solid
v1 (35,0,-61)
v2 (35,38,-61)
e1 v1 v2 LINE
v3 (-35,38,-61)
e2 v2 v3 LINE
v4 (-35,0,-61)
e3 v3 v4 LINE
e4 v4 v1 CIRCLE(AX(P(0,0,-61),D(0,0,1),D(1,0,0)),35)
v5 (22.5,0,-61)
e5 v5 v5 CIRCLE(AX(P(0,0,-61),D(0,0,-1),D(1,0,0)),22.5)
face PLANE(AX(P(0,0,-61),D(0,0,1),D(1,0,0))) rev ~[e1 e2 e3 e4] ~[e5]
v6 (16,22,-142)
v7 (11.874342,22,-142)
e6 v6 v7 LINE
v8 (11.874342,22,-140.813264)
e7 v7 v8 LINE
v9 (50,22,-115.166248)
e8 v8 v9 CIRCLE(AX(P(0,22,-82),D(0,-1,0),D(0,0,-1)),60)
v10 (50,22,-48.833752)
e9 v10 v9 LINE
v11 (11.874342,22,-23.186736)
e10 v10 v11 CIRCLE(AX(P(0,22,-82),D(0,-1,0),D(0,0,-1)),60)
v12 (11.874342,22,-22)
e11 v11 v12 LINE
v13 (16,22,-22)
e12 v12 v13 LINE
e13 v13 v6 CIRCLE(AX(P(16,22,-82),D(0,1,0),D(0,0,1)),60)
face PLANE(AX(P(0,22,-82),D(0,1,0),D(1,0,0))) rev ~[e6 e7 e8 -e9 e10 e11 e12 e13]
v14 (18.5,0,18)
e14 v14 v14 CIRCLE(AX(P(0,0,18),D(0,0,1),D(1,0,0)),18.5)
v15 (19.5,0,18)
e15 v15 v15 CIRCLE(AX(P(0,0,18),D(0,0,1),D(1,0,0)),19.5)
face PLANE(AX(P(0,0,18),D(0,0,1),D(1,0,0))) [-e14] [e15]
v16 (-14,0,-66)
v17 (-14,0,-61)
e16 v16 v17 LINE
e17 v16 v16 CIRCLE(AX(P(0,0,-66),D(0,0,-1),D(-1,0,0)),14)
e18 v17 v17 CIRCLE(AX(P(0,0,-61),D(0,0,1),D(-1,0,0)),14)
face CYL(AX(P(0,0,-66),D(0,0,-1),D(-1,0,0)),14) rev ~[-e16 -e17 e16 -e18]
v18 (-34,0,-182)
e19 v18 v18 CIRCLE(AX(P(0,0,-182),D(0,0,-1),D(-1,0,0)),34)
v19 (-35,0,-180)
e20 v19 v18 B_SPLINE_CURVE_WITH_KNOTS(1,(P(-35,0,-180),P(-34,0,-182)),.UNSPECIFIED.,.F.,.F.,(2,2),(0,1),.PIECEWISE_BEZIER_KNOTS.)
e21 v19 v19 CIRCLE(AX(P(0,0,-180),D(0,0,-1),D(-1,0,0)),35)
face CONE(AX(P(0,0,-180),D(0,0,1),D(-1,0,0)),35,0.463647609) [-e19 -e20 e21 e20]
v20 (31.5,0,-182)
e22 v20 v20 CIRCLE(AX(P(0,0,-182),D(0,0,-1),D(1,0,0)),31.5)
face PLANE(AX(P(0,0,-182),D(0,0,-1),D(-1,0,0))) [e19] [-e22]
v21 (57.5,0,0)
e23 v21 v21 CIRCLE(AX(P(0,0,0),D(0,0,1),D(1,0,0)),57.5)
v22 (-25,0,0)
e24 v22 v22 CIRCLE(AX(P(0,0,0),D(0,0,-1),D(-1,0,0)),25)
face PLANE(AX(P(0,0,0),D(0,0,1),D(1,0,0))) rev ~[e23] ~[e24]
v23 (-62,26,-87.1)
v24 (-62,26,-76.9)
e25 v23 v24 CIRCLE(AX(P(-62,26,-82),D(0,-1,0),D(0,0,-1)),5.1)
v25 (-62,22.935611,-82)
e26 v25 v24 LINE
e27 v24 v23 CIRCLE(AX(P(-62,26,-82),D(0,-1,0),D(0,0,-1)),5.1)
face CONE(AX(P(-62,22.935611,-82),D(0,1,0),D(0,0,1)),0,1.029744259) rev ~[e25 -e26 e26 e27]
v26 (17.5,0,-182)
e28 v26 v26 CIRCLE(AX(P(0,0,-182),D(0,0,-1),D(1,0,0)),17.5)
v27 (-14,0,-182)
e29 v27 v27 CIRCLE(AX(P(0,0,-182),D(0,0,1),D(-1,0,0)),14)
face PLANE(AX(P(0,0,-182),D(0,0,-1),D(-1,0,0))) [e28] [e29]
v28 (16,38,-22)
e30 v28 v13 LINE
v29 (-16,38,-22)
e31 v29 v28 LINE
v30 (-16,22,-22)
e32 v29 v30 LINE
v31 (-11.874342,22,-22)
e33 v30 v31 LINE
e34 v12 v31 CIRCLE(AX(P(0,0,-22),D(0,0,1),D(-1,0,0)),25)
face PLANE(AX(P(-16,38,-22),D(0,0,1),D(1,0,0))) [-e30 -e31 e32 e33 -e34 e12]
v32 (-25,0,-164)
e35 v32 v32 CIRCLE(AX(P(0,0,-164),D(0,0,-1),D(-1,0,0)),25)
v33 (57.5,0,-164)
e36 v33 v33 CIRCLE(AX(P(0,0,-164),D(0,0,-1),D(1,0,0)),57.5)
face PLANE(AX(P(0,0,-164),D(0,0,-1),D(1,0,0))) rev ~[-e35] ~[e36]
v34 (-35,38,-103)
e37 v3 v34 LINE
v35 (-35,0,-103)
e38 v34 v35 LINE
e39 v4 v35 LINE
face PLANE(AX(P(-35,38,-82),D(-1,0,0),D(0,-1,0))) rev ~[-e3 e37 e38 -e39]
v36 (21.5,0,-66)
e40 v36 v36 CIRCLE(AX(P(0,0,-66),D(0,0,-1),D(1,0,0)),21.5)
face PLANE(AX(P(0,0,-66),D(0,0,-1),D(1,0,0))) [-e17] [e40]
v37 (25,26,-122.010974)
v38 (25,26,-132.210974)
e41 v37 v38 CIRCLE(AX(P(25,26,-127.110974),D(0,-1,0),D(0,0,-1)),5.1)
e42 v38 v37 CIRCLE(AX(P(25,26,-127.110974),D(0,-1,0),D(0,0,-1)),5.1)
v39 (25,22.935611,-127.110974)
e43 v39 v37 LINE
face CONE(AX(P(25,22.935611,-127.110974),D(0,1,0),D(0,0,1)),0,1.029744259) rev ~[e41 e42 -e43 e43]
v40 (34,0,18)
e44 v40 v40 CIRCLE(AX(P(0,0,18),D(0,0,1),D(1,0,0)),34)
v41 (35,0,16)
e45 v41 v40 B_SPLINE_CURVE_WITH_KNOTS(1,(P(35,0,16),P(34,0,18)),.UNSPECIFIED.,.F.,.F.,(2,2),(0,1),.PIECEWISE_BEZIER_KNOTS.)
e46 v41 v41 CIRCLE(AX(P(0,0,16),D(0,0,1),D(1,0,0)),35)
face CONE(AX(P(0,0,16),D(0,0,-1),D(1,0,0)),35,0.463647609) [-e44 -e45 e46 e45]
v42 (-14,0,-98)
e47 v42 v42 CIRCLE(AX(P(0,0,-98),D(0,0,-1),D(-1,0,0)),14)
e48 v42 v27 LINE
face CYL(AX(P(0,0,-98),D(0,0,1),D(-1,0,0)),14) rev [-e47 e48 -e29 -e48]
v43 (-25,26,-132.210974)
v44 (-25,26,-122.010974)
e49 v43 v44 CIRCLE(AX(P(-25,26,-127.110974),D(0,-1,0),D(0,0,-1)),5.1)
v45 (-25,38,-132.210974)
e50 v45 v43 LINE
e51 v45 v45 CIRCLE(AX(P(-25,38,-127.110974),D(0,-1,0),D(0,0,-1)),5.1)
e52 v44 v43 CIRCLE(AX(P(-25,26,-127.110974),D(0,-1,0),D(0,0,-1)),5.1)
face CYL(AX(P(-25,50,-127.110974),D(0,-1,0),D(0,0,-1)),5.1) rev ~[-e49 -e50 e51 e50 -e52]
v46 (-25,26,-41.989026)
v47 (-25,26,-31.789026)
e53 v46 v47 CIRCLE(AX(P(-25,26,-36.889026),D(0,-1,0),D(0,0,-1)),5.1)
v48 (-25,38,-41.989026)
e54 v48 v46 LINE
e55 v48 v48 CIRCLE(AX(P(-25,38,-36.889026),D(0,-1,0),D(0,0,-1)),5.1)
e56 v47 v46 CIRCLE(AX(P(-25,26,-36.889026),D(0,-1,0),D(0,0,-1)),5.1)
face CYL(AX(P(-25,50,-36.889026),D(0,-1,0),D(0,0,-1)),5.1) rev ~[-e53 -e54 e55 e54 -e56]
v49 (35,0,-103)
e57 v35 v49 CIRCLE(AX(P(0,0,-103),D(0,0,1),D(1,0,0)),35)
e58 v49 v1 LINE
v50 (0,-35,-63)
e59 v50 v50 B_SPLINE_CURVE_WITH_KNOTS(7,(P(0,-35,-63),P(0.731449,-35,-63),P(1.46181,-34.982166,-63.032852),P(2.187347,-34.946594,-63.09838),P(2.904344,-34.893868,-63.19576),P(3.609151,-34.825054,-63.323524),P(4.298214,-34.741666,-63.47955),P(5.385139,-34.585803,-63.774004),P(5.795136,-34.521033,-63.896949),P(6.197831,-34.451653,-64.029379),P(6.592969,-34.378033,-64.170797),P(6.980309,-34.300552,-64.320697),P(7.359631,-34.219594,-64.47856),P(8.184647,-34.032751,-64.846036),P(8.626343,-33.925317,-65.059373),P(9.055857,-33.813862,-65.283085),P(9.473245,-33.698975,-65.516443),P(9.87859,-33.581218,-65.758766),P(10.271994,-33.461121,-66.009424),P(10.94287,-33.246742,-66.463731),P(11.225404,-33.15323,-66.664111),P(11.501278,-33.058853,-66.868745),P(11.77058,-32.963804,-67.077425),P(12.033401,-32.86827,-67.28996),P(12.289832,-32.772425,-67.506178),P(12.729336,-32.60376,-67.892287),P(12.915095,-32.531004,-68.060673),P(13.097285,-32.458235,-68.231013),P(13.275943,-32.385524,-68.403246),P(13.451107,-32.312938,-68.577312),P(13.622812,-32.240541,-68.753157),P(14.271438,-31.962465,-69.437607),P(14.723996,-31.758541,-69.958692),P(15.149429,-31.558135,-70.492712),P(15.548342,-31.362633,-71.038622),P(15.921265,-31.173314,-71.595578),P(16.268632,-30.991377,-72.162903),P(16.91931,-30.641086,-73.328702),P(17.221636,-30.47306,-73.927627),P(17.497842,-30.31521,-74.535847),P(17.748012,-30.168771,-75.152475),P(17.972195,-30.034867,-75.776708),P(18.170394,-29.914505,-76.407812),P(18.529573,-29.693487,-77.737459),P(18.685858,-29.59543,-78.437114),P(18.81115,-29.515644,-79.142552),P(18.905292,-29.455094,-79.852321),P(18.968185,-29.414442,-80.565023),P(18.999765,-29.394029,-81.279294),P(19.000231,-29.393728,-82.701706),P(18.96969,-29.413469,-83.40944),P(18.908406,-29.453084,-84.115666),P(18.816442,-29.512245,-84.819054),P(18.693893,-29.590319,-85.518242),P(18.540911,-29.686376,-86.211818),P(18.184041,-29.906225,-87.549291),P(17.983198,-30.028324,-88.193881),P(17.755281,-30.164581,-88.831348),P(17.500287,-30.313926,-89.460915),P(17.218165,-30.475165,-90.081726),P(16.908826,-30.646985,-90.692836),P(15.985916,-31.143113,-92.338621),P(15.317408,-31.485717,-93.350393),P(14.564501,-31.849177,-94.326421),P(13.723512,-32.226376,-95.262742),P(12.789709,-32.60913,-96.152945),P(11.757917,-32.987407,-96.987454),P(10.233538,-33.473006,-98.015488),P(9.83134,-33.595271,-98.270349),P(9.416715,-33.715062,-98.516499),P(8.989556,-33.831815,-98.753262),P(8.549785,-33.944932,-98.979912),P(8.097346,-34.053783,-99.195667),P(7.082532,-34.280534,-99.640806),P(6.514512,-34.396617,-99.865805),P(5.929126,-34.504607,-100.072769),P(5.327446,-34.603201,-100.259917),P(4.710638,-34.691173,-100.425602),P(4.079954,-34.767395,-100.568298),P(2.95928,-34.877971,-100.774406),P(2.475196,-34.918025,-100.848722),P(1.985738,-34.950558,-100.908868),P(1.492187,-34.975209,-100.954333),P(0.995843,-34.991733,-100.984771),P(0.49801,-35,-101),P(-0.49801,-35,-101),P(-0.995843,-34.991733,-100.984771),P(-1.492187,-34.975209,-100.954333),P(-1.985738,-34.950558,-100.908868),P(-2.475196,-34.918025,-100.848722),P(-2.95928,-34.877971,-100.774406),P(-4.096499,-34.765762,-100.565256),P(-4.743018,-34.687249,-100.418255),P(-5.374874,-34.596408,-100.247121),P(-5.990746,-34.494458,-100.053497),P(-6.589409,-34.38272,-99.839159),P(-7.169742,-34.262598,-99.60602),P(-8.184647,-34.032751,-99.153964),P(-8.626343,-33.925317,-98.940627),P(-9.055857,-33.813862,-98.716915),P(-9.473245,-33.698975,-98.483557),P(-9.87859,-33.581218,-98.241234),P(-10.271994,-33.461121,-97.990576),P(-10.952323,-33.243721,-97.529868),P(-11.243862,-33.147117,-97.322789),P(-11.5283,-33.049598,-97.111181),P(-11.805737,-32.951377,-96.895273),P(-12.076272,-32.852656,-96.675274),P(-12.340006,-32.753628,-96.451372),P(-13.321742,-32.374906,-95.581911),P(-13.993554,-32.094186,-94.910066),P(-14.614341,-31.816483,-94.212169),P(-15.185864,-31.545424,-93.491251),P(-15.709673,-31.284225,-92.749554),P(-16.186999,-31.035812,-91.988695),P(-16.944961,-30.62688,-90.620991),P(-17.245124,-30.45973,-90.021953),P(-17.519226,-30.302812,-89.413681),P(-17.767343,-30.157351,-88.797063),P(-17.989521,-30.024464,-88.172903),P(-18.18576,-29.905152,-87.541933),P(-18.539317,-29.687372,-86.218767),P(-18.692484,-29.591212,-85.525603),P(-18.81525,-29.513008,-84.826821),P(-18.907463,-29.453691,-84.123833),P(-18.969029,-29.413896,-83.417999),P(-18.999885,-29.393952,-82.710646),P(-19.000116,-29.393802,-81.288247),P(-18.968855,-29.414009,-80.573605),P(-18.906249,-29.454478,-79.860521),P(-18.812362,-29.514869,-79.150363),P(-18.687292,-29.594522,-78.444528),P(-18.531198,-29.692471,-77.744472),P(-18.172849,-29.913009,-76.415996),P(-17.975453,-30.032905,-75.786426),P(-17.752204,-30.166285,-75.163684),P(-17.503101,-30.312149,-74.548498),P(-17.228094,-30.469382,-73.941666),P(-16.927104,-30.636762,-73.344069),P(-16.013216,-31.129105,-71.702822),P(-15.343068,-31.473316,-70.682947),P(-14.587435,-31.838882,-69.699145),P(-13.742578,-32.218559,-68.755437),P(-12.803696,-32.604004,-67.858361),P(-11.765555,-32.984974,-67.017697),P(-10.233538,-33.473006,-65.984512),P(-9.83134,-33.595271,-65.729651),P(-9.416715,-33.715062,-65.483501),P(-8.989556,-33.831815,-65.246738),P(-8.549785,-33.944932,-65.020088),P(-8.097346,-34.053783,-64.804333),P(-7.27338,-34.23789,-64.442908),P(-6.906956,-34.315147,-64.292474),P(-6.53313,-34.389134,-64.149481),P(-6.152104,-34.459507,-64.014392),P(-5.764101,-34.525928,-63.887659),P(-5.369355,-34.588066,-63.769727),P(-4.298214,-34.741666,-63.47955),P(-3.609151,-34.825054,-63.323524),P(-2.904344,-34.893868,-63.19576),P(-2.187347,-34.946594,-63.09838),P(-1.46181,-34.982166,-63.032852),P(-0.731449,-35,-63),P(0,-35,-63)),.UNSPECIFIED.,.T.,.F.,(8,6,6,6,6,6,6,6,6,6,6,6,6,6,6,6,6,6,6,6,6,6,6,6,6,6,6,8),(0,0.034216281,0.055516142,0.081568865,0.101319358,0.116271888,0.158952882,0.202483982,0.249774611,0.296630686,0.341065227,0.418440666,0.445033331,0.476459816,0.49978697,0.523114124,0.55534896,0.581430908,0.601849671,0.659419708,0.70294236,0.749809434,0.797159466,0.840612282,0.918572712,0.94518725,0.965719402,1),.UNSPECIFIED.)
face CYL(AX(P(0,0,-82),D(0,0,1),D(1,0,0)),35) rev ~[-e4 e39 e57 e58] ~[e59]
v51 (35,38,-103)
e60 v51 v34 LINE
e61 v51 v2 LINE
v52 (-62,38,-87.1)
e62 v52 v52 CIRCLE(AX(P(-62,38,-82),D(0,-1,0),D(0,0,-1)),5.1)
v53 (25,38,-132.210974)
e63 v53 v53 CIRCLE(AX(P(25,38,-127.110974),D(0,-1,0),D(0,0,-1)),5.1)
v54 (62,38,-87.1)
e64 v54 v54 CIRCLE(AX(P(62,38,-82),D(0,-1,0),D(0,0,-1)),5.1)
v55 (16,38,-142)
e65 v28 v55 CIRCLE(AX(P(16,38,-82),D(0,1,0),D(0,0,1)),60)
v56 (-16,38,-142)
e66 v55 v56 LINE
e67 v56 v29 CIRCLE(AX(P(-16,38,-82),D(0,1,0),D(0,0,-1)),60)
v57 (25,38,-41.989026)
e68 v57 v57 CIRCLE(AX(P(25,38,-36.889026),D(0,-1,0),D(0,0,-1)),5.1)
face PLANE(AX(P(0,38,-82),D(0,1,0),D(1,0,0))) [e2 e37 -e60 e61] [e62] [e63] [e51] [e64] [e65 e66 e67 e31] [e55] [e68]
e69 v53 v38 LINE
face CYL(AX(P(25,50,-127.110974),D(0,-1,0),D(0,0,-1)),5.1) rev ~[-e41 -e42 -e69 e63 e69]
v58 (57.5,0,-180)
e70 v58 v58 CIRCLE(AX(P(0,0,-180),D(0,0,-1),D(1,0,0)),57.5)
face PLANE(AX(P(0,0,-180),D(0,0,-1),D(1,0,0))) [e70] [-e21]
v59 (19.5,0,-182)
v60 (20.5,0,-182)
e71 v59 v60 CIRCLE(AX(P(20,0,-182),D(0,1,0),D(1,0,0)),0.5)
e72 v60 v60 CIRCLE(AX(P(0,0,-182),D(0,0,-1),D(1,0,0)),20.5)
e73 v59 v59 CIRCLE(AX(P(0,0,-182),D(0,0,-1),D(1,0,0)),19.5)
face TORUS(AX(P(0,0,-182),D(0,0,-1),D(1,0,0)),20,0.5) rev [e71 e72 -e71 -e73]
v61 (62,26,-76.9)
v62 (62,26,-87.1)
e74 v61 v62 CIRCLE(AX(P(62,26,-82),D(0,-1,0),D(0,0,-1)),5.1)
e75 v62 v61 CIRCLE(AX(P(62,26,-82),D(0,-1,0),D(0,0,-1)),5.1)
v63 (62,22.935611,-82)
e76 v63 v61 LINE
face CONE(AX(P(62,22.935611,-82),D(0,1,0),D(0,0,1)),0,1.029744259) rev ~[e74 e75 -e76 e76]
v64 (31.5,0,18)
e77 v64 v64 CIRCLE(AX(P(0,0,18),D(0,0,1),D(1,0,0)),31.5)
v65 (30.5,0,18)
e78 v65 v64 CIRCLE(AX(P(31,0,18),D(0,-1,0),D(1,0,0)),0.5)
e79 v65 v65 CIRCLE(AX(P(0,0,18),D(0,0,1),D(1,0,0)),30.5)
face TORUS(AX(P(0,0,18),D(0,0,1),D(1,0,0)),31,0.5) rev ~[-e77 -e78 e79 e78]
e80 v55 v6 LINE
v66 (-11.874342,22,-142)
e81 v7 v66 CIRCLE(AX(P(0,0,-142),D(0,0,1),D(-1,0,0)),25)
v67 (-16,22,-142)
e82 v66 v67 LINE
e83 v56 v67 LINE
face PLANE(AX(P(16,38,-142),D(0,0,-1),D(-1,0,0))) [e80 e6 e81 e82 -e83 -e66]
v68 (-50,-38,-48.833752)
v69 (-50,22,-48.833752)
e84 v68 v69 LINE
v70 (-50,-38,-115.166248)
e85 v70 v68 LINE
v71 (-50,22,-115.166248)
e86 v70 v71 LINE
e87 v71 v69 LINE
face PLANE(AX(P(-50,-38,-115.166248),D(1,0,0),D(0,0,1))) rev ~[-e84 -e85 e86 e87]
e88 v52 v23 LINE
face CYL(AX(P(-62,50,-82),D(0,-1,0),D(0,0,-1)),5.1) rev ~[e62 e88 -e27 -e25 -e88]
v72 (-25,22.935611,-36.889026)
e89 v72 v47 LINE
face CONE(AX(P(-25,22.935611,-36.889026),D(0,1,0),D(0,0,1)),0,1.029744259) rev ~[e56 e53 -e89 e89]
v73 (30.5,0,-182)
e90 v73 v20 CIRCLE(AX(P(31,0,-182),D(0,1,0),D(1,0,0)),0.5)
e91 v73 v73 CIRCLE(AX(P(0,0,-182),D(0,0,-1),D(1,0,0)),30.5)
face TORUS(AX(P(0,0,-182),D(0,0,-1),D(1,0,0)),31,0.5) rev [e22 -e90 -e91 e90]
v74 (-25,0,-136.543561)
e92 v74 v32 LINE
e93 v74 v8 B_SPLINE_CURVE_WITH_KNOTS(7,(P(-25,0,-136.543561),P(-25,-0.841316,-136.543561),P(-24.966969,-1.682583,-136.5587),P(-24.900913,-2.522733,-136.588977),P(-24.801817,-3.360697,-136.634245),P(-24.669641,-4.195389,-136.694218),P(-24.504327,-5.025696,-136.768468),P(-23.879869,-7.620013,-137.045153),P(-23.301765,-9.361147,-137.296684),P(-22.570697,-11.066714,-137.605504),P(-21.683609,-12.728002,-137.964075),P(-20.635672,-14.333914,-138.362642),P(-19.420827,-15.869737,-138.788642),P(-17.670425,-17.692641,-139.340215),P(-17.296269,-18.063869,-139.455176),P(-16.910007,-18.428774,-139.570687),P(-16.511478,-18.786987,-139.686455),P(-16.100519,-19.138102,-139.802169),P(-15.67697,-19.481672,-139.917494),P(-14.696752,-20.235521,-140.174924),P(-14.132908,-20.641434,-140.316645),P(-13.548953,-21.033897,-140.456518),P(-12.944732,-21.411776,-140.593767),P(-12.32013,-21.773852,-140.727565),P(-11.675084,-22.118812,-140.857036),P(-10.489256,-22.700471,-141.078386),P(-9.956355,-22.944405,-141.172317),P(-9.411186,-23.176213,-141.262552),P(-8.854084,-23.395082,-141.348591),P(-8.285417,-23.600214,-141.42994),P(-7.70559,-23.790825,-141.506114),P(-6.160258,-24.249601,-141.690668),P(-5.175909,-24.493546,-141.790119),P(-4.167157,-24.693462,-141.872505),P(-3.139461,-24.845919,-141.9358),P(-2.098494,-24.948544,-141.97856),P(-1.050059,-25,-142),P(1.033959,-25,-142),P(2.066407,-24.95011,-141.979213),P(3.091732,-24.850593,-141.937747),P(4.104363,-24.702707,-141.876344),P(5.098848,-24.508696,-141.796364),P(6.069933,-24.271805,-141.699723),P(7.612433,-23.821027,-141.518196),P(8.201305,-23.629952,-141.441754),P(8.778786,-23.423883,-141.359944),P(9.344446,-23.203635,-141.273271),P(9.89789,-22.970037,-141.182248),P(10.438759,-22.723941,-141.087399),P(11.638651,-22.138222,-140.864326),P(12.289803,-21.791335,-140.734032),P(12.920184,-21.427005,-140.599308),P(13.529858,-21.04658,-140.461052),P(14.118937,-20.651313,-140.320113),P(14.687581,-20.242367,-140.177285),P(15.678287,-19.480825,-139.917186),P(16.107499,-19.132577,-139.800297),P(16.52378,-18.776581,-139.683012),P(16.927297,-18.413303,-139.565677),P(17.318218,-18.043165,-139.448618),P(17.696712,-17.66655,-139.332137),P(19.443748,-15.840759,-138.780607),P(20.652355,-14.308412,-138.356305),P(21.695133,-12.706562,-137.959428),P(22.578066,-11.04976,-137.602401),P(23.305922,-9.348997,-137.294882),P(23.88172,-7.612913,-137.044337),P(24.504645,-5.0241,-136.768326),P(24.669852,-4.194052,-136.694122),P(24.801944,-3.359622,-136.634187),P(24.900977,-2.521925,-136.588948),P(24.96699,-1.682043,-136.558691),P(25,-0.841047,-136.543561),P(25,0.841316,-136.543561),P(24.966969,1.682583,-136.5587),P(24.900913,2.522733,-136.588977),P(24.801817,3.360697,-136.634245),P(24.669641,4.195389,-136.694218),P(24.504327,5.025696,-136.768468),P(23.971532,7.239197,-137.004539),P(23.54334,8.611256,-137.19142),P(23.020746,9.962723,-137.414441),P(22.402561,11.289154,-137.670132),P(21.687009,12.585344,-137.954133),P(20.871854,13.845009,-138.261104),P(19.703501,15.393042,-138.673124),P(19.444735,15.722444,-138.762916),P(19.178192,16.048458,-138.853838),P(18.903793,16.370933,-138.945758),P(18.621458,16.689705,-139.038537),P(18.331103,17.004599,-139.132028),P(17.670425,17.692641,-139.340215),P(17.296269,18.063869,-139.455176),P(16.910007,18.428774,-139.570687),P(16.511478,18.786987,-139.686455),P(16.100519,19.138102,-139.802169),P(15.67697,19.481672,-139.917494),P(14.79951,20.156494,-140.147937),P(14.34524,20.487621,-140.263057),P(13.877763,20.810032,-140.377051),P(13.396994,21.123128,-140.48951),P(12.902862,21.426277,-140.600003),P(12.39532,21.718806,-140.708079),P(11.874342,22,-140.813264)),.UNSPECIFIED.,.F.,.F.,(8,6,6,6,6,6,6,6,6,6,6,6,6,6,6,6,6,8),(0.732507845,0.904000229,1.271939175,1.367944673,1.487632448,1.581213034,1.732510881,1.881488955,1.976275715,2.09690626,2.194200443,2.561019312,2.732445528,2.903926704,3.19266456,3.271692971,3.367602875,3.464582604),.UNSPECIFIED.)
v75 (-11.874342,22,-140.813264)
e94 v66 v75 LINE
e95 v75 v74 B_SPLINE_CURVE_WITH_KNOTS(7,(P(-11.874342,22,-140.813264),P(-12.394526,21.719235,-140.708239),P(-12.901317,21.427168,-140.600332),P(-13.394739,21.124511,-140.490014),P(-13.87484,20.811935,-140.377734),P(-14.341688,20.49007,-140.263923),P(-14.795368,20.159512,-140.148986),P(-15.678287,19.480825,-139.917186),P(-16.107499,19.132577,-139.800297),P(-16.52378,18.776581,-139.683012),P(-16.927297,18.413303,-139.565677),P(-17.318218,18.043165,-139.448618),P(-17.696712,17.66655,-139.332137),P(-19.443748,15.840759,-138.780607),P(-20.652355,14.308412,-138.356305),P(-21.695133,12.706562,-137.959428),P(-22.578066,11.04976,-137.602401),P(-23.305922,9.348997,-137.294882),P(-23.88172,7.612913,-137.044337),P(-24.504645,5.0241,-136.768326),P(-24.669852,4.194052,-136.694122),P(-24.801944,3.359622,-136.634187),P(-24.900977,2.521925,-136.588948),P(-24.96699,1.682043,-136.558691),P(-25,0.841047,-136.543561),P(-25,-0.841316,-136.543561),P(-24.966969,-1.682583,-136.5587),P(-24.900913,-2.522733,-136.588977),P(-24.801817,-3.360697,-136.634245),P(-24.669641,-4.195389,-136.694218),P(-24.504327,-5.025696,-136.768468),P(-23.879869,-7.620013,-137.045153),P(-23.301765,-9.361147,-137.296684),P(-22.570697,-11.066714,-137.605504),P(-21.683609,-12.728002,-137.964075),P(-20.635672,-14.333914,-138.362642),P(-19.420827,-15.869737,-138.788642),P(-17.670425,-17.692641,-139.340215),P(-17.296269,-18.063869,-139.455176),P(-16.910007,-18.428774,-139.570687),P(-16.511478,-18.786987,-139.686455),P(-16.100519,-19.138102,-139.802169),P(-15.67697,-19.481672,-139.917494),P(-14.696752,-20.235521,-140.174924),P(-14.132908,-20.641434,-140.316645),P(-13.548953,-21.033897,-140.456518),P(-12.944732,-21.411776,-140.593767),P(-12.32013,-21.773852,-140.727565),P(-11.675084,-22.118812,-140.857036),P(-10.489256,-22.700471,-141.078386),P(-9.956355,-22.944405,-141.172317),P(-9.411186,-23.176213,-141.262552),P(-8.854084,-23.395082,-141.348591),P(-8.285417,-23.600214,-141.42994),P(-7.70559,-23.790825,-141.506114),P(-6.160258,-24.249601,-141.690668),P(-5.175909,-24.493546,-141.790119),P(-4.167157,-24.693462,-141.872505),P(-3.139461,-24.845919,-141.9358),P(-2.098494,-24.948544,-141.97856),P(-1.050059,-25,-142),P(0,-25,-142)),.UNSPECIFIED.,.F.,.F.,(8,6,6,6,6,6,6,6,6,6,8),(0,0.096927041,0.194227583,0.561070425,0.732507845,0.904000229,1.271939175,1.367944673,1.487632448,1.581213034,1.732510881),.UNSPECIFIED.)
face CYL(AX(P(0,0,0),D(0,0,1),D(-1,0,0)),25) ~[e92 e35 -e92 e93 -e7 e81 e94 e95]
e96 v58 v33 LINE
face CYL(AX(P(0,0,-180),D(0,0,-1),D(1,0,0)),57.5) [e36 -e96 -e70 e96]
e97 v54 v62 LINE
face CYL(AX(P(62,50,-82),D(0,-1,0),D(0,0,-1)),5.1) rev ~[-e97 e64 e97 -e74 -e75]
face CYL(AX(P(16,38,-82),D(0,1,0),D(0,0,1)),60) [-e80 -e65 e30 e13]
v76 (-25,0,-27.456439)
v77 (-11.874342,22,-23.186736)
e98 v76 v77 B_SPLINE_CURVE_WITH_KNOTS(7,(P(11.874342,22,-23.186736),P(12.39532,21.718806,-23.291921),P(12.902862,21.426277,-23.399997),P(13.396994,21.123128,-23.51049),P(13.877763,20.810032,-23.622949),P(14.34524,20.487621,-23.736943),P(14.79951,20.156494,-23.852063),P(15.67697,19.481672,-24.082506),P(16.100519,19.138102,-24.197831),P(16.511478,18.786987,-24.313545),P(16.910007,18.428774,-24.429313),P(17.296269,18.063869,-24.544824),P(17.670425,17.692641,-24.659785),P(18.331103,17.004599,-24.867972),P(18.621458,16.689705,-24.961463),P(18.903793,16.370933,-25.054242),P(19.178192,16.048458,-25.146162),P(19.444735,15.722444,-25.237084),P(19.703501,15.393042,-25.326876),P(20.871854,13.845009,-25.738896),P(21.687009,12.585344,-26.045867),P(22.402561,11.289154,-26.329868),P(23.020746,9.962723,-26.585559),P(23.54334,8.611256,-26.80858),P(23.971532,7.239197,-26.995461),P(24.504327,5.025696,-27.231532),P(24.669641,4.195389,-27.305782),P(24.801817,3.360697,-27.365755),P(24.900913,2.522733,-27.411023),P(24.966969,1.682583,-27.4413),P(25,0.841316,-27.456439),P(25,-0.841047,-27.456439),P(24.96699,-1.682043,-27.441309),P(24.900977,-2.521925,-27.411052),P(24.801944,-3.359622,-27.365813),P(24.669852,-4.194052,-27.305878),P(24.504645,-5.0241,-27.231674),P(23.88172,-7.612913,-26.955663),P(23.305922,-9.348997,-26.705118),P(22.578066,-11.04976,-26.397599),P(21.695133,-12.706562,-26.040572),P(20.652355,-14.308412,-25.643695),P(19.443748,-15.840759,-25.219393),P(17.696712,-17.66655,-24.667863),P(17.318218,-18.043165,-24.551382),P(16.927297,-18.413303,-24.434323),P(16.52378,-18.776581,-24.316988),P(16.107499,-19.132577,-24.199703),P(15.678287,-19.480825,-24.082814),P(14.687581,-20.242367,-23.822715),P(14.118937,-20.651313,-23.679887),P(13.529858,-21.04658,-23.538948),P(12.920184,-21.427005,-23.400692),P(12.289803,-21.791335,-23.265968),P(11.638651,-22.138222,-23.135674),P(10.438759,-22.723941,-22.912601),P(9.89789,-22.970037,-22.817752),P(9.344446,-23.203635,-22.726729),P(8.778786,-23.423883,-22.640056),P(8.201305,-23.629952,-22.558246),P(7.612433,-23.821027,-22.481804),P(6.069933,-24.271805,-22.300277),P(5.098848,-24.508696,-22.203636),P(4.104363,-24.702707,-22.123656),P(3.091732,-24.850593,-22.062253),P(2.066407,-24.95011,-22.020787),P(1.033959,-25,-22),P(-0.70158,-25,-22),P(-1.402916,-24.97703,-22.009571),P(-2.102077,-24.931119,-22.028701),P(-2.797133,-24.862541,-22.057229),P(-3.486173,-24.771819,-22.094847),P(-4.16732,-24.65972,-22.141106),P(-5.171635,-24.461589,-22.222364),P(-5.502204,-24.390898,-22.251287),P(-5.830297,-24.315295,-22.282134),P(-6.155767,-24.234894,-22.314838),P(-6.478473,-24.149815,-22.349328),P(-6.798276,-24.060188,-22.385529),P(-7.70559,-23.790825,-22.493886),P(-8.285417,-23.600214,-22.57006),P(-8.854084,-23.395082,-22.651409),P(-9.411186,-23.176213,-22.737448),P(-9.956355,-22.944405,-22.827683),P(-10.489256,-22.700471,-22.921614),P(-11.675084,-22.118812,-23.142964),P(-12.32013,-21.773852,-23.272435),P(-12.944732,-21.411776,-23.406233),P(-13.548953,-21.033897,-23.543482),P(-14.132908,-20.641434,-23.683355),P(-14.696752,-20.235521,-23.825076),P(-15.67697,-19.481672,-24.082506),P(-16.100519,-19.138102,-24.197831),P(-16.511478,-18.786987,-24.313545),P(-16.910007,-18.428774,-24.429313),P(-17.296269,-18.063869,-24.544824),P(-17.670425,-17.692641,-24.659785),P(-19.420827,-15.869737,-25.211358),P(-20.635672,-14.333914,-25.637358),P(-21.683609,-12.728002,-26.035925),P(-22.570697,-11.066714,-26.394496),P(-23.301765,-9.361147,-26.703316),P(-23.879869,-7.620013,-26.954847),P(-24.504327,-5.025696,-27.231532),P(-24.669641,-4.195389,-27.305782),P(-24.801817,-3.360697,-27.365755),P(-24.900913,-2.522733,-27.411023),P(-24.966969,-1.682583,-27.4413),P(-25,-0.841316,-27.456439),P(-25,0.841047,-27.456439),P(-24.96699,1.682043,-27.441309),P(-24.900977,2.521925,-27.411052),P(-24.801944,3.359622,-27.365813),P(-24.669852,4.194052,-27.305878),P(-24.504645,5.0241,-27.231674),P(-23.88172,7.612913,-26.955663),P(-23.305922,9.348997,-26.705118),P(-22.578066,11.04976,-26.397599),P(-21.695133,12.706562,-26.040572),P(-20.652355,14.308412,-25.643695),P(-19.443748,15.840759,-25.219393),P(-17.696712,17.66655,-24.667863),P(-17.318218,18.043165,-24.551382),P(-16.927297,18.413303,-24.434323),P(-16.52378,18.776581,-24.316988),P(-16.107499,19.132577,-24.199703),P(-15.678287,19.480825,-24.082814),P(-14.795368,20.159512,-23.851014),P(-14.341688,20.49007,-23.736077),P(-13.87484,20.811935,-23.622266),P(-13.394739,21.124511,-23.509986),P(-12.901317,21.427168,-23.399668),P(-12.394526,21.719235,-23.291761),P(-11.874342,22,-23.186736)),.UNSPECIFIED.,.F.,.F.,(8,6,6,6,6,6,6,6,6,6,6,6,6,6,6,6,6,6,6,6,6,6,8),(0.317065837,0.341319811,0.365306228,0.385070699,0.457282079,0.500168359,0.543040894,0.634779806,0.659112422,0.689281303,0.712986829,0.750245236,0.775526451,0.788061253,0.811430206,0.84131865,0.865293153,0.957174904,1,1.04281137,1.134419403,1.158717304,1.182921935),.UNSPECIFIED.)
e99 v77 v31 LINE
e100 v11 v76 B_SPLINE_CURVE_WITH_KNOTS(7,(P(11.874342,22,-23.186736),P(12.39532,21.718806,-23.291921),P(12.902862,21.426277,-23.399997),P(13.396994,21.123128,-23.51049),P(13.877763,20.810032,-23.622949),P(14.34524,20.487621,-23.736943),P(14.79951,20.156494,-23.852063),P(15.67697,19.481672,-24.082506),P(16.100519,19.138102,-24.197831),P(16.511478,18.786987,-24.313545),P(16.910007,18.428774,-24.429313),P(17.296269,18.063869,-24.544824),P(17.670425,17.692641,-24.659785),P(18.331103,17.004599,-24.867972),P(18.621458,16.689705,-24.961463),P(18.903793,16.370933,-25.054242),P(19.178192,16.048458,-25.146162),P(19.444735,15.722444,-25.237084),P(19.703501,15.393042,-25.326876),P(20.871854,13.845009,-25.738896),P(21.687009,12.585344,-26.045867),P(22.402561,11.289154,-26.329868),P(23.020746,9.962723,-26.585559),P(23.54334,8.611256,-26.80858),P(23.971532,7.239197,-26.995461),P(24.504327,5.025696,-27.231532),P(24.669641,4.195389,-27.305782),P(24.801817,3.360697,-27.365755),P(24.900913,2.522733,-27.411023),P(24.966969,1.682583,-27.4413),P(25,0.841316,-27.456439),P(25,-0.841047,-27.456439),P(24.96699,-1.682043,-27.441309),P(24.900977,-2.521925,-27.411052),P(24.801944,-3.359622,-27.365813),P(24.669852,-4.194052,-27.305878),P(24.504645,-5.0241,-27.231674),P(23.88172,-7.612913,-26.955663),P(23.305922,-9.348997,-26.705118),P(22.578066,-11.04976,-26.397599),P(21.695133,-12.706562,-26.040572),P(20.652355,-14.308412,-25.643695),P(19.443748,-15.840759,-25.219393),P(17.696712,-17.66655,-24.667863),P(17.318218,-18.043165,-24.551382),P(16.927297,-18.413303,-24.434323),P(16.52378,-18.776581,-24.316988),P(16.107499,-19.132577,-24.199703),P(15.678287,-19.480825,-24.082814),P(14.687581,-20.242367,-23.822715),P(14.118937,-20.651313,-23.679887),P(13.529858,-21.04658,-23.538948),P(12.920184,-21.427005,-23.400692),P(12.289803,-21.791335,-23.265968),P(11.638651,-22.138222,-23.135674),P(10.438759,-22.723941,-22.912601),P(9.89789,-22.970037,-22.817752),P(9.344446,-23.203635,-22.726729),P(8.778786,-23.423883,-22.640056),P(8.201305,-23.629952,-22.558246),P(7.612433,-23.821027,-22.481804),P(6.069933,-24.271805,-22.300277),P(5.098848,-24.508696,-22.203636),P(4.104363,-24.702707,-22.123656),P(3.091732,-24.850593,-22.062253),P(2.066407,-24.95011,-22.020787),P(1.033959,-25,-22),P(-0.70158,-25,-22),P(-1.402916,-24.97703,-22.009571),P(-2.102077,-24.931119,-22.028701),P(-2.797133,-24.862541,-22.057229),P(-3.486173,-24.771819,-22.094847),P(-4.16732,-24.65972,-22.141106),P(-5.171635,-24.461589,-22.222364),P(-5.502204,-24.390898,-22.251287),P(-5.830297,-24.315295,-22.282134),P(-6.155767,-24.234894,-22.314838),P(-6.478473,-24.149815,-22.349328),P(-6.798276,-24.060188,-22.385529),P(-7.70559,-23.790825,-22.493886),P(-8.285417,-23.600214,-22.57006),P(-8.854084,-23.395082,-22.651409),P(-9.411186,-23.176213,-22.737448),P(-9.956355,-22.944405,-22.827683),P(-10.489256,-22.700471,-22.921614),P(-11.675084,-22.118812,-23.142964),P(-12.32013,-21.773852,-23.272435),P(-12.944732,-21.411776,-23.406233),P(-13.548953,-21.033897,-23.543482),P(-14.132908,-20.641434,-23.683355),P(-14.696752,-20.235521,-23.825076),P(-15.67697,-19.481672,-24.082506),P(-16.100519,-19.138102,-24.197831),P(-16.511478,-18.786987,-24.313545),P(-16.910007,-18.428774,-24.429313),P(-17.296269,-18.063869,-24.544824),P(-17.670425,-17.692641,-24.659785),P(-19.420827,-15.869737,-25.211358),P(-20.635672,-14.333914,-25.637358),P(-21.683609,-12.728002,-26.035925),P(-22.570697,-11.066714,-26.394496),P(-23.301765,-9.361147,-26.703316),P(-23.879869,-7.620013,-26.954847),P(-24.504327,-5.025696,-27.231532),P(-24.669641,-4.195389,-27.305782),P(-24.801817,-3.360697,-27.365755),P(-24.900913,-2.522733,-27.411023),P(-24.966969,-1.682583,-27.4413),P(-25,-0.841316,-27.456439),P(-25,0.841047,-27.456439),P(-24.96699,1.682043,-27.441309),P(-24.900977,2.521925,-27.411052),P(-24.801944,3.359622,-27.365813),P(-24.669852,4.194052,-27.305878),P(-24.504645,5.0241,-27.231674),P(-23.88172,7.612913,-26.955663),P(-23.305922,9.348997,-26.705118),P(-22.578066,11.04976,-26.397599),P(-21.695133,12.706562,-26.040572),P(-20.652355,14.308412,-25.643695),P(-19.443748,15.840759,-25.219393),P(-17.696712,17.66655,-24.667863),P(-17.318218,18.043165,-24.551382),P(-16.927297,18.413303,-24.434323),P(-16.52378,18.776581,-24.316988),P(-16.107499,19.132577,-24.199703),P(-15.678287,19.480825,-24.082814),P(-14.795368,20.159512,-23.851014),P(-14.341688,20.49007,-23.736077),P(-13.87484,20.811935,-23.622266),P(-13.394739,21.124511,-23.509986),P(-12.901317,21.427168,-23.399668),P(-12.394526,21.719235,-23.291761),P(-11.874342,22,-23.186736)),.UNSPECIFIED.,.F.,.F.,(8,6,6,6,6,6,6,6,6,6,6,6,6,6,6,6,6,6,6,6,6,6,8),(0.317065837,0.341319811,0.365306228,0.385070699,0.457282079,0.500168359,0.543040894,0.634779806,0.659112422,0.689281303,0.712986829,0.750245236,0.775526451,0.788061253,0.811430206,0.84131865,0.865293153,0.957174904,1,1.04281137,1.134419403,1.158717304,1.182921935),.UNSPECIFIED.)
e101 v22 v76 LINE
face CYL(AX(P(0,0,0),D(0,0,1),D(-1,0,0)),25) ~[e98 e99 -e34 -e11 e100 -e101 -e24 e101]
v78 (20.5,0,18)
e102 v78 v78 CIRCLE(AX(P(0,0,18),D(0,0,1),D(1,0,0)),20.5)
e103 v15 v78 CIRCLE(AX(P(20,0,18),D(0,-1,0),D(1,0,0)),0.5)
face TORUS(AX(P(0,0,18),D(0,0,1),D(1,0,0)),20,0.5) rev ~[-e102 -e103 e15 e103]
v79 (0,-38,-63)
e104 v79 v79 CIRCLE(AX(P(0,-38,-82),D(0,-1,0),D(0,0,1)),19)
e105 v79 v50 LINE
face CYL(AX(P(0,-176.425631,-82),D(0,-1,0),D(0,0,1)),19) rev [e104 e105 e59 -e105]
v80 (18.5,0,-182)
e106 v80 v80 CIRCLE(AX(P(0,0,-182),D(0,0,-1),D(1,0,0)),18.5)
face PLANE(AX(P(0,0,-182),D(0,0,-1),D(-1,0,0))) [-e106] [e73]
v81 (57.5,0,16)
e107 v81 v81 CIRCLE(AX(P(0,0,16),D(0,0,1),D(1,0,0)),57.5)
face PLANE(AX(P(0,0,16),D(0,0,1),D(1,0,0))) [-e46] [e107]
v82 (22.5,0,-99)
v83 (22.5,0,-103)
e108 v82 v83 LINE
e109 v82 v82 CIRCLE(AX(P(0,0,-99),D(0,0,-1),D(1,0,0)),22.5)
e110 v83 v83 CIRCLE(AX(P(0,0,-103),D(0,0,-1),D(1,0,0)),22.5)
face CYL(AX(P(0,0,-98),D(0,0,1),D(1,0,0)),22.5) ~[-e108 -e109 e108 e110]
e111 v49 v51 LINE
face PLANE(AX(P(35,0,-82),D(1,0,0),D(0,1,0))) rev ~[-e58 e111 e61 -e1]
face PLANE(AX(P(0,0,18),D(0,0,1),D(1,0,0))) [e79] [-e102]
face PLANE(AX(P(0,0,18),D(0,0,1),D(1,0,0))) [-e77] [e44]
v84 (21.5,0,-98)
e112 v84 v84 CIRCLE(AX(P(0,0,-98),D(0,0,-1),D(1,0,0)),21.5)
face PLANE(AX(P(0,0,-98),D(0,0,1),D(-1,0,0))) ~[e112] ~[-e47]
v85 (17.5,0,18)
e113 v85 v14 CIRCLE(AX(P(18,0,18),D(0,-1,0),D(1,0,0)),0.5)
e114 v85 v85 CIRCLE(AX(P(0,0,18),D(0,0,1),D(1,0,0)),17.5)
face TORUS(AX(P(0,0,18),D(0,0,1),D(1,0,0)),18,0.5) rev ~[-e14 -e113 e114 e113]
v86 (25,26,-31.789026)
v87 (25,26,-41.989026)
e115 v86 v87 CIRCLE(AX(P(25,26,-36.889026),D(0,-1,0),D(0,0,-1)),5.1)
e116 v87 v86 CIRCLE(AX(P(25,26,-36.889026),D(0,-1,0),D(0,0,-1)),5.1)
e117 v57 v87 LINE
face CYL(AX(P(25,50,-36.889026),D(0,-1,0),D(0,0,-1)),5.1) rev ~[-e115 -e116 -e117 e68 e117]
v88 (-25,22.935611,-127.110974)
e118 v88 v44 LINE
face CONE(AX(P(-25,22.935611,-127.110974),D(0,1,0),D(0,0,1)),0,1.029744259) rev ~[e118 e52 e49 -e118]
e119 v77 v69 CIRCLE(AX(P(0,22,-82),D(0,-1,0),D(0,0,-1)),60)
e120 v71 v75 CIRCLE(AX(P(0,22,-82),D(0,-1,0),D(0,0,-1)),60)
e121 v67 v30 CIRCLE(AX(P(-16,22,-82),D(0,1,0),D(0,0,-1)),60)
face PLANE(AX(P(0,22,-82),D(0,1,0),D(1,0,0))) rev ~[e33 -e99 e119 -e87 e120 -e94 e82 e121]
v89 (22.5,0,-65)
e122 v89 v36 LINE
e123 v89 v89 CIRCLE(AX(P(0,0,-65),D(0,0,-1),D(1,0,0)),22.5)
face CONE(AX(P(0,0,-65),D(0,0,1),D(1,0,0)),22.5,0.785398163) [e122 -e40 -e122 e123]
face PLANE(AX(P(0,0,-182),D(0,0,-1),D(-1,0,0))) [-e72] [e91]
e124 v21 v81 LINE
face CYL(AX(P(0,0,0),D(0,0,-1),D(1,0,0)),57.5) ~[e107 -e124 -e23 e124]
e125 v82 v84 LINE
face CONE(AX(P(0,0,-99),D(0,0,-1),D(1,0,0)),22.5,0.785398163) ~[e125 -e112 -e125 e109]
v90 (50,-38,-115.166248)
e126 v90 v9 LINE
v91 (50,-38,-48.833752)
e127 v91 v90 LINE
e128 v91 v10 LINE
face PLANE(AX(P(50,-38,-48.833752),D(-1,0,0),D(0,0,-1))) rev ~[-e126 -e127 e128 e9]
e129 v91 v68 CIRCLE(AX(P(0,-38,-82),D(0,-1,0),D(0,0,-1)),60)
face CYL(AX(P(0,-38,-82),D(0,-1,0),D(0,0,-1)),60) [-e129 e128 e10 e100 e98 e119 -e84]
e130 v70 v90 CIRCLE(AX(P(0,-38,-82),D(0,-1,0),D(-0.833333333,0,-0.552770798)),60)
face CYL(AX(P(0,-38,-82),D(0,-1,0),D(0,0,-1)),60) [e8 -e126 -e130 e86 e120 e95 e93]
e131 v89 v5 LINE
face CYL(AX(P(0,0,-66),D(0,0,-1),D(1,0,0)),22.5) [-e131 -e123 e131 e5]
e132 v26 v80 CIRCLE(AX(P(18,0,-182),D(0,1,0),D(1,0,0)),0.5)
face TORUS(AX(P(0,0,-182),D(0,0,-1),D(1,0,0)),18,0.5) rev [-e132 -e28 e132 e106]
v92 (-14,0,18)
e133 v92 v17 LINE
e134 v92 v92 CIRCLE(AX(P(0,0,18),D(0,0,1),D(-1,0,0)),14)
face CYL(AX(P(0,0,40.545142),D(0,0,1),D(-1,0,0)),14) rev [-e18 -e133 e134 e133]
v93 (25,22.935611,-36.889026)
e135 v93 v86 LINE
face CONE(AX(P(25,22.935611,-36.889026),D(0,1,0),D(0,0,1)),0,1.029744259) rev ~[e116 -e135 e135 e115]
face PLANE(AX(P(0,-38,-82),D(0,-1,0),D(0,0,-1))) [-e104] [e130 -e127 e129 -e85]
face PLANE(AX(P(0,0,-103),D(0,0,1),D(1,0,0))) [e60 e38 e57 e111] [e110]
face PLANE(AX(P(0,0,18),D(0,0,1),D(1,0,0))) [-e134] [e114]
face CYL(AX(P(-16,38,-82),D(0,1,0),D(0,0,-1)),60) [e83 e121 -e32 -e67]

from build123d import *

# Parameters (mm, degrees)
SKETCH_1_R               = 57.5
EXTRUDE_1_DEPTH          = 16
SKETCH_2_R               = 35
SKETCH_3_R               = 34
SKETCH_4_R               = 25
EXTRUDE_2_DEPTH          = 164
EXTRUDE_START            = 16
SKETCH_5_R               = 57.5
EXTRUDE_3_DEPTH          = 16
SKETCH_6_R               = 35
SKETCH_7_R               = 34
SKETCH_8_R               = 50
EXTRUDE_4_DEPTH          = 38
CUT_EXTRUDE_1_DEPTH      = 214.425631161
CUT_EXTRUDE_1_DEPTH_BACK = 214.425631161
SKETCH_10_R              = 19
SKETCH_11_R              = 50
EXTRUDE_5_DEPTH          = 16
HOLE_WIZARD_M12_1_D      = 10.2
HOLE_WIZARD_M12_1_DEPTH  = 12
HOLE_WIZARD_M12_1_TIP    = 3.064389157
CUT_EXTRUDE_2_DEPTH      = 222.545142217
CUT_EXTRUDE_2_DEPTH_BACK = 222.545142217
SKETCH_14_R              = 14
SKETCH_15_R              = 35
CUT_EXTRUDE_3_DEPTH      = 21
EXTRUDE_START_2          = 5
SKETCH_16_R              = 22.5
SKETCH_16_R_2            = 14
EXTRUDE_6_DEPTH          = 5
CHAMFER_1_SIZE           = 1
SWEEP_1_PROFILE_R        = 0.5
SWEEP_2_PROFILE_R        = 0.5
SWEEP_3_PROFILE_R        = 0.5
EXTRUDE_7_REACH          = 221.135
SKETCH_36_R              = 60
SKETCH_36_R_2            = 50
CUT_EXTRUDE_4_DEPTH      = 60


with BuildPart() as part:
    # 草图1 → 凸台-拉伸1 (new body)
    with BuildSketch(Plane.XY):
        Circle(SKETCH_1_R)
    extrude(amount=EXTRUDE_1_DEPTH)

    # 草图2 → 放样1 section 0
    with BuildSketch(Plane.XY.offset(16)):
        Circle(SKETCH_2_R)
    # 草图3 → 放样1 section 1
    with BuildSketch(Plane.XY.offset(18)):
        Circle(SKETCH_3_R)
    loft()

    # 草图4 → 凸台-拉伸2 (add)
    with BuildSketch(Plane(origin=(0, 0, 0), x_dir=(-1, 0, 0), z_dir=(0, 0, -1))):
        Circle(SKETCH_4_R)
    extrude(amount=EXTRUDE_2_DEPTH)

    # 草图5 → 凸台-拉伸3 (add)
    with BuildSketch(Plane(origin=(0, 0, -164), x_dir=(-1, 0, 0), z_dir=(0, 0, -1)).offset(EXTRUDE_START)):
        with Locations(Location((0, 0, 0), (0, 0, 180))):
            Circle(SKETCH_5_R)
    extrude(amount=-EXTRUDE_3_DEPTH)

    # 草图6 → 放样2 section 0
    with BuildSketch(Plane(origin=(0, 0, -180), x_dir=(-1, 0, 0), z_dir=(0, 0, -1))):
        Circle(SKETCH_6_R)
    # 草图7 → 放样2 section 1
    with BuildSketch(Plane(origin=(0, 0, -182), x_dir=(-1, 0, 0), z_dir=(0, 0, -1))):
        Circle(SKETCH_7_R)
    loft()

    # 草图8 → 凸台-拉伸4 (add, symmetric)
    with BuildSketch(Plane(origin=(0, 0, 0), x_dir=(1, 0, 0), z_dir=(0, 1, 0))):
        with Locations(Location((0, 82, 0), (0, 0, 270))):
            Circle(SKETCH_8_R)
    extrude(amount=EXTRUDE_4_DEPTH, both=True)

    # 草图10 → 切除-拉伸1 (cut, two sides: drawn at the far end of the back side and taken through both)
    with BuildSketch(Plane(origin=(0, 38, 0), x_dir=(1, 0, 0), z_dir=(0, 1, 0)).offset(-CUT_EXTRUDE_1_DEPTH_BACK)):
        with Locations(Location((0, 82, 0), (0, 0, 270))):
            Circle(SKETCH_10_R)
    extrude(amount=CUT_EXTRUDE_1_DEPTH + CUT_EXTRUDE_1_DEPTH_BACK, mode=Mode.SUBTRACT)

    # 草图11 → 凸台-拉伸5 (add)
    with BuildSketch(Plane(origin=(0, 38, 0), x_dir=(1, 0, 0), z_dir=(0, 1, 0))):
        with BuildLine():
            Line((-16, 22), (16, 22))
            ThreePointArc((16, 22), (76, 82), (16, 142))
            Line((16, 142), (-16, 142))
            ThreePointArc((-16, 142), (-76, 82), (-16, 22))
        make_face()
        with Locations(Location((0, 82, 0), (0, 0, 76.261741973))):
            Circle(SKETCH_11_R, mode=Mode.SUBTRACT)
    extrude(amount=-EXTRUDE_5_DEPTH)

    # M12 螺纹孔1
    with Locations(Plane(origin=(-62, 38, -82), x_dir=(0, 0, 1), z_dir=(0, 1, 0))):
        with Locations((0, 0), (-45.110974275, 37), (45.110974275, 37), (-45.110974275, 87), (45.110974275, 87), (0, 124)):
            Hole(HOLE_WIZARD_M12_1_D / 2, depth=HOLE_WIZARD_M12_1_DEPTH)
            with Locations((0, 0, -(HOLE_WIZARD_M12_1_DEPTH + HOLE_WIZARD_M12_1_TIP / 2))):  # 118° drill point
                Cone(0, HOLE_WIZARD_M12_1_D / 2, HOLE_WIZARD_M12_1_TIP, mode=Mode.SUBTRACT)

    # 草图14 → 切除-拉伸2 (cut, two sides: drawn at the far end of the back side and taken through both)
    with BuildSketch(Plane(origin=(0, 0, -182), x_dir=(-1, 0, 0), z_dir=(0, 0, -1)).offset(-CUT_EXTRUDE_2_DEPTH_BACK)):
        Circle(SKETCH_14_R)
    extrude(amount=CUT_EXTRUDE_2_DEPTH + CUT_EXTRUDE_2_DEPTH_BACK, mode=Mode.SUBTRACT)

    # 草图15 → 切除-拉伸3 (cut, symmetric)
    with BuildSketch(Plane.XY.offset(-82)):
        Circle(SKETCH_15_R)
        with BuildLine():
            ThreePointArc((-35, 0), (0, 35), (35, 0))
            Line((35, 0), (35, 38))
            Line((35, 38), (-35, 38))
            Line((-35, 38), (-35, 0))
        make_face()
    extrude(amount=CUT_EXTRUDE_3_DEPTH, both=True, mode=Mode.SUBTRACT)

    # 草图16 → 凸台-拉伸6 (add)
    with BuildSketch(Plane(origin=(0, 0, -61), x_dir=(-1, 0, 0), z_dir=(0, 0, -1)).offset(EXTRUDE_START_2)):
        with Locations(Location((0, 0, 0), (0, 0, 180))):
            Circle(SKETCH_16_R)
        Circle(SKETCH_16_R_2, mode=Mode.SUBTRACT)
    extrude_6 = extrude(amount=-EXTRUDE_6_DEPTH)

    # 镜向3: 凸台-拉伸6 across plane
    add(extrude_6.mirror(Plane.XY.offset(-82)))

    # 倒角1
    chamfer_1_edges = [part.edges().sort_by_distance(p)[0] for p in [
        (-22.5, 0, -66),
        (-22.5, 0, -98),
    ]]
    chamfer(chamfer_1_edges, length=CHAMFER_1_SIZE)

    # 切除-扫描1: sweep along a path in 草图17
    with BuildLine(Plane.XY.offset(18)) as sweep_1_path:
        CenterArc((0, 0), 18, 0, 360)
    # 切除-扫描1 profile (on start of the path) → 切除-扫描1 (sweep, cut)
    with BuildSketch(Plane(origin=(18, 0, 18), x_dir=(0, 0, 1), z_dir=(0, 1, 0))):
        Circle(SWEEP_1_PROFILE_R)
    sweep_1 = sweep(path=sweep_1_path.line, mode=Mode.SUBTRACT)

    # 切除-扫描2: sweep along a path in 草图26
    with BuildLine(Plane.XY.offset(18)) as sweep_2_path:
        CenterArc((0, 0), 20, 0, 360)
    # 切除-扫描2 profile (on start of the path) → 切除-扫描2 (sweep, cut)
    with BuildSketch(Plane(origin=(20, 0, 18), x_dir=(0, 0, 1), z_dir=(0, 1, 0))):
        Circle(SWEEP_2_PROFILE_R)
    sweep_2 = sweep(path=sweep_2_path.line, mode=Mode.SUBTRACT)

    # 切除-扫描3: sweep along a path in 草图31
    with BuildLine(Plane.XY.offset(18)) as sweep_3_path:
        CenterArc((0, 0), 31, 0, 360)
    # 切除-扫描3 profile (on start of the path) → 切除-扫描3 (sweep, cut)
    with BuildSketch(Plane(origin=(31, 0, 18), x_dir=(0, 0, 1), z_dir=(0, 1, 0))):
        Circle(SWEEP_3_PROFILE_R)
    sweep_3 = sweep(path=sweep_3_path.line, mode=Mode.SUBTRACT)

    # 草图36 → 凸台-拉伸7 (add, up to next)
    with BuildSketch(Plane.XZ.offset(38), mode=Mode.PRIVATE) as extrude_7_sk1:
        with Locations(Location((0, -82, 0), (0, 0, 270))):
            Circle(SKETCH_36_R)
        with Locations((0, -82)):
            Circle(SKETCH_36_R_2, mode=Mode.SUBTRACT)
    extrude_7_tool1 = extrude(extrude_7_sk1.sketch, amount=-EXTRUDE_7_REACH, mode=Mode.PRIVATE) - part.part
    add(extrude_7_tool1.solids().sort_by_distance((0, -38, -23.697056))[0])

    # 草图37 → 切除-拉伸4 (cut)
    with BuildSketch(Plane.XZ.offset(38)):
        with BuildLine():
            ThreePointArc((60, -82), (57.445626465, -64.679491924), (50, -48.833752096))
            Line((50, -48.833752096), (50, -115.166247904))
            ThreePointArc((50, -115.166247904), (57.445626465, -99.320508076), (60, -82))
        make_face()
        with BuildLine():
            Line((-50, -115.166247904), (-50, -48.833752096))
            ThreePointArc((-50, -48.833752096), (-60, -82), (-50, -115.166247904))
        make_face()
    extrude(amount=-CUT_EXTRUDE_4_DEPTH, mode=Mode.SUBTRACT)

    # 镜向4: 切除-扫描1, 切除-扫描2, 切除-扫描3 across plane
    add(sweep_1.mirror(Plane.XY.offset(-82)), mode=Mode.SUBTRACT)
    add(sweep_2.mirror(Plane.XY.offset(-82)), mode=Mode.SUBTRACT)
    add(sweep_3.mirror(Plane.XY.offset(-82)), mode=Mode.SUBTRACT)


solid = part.part
